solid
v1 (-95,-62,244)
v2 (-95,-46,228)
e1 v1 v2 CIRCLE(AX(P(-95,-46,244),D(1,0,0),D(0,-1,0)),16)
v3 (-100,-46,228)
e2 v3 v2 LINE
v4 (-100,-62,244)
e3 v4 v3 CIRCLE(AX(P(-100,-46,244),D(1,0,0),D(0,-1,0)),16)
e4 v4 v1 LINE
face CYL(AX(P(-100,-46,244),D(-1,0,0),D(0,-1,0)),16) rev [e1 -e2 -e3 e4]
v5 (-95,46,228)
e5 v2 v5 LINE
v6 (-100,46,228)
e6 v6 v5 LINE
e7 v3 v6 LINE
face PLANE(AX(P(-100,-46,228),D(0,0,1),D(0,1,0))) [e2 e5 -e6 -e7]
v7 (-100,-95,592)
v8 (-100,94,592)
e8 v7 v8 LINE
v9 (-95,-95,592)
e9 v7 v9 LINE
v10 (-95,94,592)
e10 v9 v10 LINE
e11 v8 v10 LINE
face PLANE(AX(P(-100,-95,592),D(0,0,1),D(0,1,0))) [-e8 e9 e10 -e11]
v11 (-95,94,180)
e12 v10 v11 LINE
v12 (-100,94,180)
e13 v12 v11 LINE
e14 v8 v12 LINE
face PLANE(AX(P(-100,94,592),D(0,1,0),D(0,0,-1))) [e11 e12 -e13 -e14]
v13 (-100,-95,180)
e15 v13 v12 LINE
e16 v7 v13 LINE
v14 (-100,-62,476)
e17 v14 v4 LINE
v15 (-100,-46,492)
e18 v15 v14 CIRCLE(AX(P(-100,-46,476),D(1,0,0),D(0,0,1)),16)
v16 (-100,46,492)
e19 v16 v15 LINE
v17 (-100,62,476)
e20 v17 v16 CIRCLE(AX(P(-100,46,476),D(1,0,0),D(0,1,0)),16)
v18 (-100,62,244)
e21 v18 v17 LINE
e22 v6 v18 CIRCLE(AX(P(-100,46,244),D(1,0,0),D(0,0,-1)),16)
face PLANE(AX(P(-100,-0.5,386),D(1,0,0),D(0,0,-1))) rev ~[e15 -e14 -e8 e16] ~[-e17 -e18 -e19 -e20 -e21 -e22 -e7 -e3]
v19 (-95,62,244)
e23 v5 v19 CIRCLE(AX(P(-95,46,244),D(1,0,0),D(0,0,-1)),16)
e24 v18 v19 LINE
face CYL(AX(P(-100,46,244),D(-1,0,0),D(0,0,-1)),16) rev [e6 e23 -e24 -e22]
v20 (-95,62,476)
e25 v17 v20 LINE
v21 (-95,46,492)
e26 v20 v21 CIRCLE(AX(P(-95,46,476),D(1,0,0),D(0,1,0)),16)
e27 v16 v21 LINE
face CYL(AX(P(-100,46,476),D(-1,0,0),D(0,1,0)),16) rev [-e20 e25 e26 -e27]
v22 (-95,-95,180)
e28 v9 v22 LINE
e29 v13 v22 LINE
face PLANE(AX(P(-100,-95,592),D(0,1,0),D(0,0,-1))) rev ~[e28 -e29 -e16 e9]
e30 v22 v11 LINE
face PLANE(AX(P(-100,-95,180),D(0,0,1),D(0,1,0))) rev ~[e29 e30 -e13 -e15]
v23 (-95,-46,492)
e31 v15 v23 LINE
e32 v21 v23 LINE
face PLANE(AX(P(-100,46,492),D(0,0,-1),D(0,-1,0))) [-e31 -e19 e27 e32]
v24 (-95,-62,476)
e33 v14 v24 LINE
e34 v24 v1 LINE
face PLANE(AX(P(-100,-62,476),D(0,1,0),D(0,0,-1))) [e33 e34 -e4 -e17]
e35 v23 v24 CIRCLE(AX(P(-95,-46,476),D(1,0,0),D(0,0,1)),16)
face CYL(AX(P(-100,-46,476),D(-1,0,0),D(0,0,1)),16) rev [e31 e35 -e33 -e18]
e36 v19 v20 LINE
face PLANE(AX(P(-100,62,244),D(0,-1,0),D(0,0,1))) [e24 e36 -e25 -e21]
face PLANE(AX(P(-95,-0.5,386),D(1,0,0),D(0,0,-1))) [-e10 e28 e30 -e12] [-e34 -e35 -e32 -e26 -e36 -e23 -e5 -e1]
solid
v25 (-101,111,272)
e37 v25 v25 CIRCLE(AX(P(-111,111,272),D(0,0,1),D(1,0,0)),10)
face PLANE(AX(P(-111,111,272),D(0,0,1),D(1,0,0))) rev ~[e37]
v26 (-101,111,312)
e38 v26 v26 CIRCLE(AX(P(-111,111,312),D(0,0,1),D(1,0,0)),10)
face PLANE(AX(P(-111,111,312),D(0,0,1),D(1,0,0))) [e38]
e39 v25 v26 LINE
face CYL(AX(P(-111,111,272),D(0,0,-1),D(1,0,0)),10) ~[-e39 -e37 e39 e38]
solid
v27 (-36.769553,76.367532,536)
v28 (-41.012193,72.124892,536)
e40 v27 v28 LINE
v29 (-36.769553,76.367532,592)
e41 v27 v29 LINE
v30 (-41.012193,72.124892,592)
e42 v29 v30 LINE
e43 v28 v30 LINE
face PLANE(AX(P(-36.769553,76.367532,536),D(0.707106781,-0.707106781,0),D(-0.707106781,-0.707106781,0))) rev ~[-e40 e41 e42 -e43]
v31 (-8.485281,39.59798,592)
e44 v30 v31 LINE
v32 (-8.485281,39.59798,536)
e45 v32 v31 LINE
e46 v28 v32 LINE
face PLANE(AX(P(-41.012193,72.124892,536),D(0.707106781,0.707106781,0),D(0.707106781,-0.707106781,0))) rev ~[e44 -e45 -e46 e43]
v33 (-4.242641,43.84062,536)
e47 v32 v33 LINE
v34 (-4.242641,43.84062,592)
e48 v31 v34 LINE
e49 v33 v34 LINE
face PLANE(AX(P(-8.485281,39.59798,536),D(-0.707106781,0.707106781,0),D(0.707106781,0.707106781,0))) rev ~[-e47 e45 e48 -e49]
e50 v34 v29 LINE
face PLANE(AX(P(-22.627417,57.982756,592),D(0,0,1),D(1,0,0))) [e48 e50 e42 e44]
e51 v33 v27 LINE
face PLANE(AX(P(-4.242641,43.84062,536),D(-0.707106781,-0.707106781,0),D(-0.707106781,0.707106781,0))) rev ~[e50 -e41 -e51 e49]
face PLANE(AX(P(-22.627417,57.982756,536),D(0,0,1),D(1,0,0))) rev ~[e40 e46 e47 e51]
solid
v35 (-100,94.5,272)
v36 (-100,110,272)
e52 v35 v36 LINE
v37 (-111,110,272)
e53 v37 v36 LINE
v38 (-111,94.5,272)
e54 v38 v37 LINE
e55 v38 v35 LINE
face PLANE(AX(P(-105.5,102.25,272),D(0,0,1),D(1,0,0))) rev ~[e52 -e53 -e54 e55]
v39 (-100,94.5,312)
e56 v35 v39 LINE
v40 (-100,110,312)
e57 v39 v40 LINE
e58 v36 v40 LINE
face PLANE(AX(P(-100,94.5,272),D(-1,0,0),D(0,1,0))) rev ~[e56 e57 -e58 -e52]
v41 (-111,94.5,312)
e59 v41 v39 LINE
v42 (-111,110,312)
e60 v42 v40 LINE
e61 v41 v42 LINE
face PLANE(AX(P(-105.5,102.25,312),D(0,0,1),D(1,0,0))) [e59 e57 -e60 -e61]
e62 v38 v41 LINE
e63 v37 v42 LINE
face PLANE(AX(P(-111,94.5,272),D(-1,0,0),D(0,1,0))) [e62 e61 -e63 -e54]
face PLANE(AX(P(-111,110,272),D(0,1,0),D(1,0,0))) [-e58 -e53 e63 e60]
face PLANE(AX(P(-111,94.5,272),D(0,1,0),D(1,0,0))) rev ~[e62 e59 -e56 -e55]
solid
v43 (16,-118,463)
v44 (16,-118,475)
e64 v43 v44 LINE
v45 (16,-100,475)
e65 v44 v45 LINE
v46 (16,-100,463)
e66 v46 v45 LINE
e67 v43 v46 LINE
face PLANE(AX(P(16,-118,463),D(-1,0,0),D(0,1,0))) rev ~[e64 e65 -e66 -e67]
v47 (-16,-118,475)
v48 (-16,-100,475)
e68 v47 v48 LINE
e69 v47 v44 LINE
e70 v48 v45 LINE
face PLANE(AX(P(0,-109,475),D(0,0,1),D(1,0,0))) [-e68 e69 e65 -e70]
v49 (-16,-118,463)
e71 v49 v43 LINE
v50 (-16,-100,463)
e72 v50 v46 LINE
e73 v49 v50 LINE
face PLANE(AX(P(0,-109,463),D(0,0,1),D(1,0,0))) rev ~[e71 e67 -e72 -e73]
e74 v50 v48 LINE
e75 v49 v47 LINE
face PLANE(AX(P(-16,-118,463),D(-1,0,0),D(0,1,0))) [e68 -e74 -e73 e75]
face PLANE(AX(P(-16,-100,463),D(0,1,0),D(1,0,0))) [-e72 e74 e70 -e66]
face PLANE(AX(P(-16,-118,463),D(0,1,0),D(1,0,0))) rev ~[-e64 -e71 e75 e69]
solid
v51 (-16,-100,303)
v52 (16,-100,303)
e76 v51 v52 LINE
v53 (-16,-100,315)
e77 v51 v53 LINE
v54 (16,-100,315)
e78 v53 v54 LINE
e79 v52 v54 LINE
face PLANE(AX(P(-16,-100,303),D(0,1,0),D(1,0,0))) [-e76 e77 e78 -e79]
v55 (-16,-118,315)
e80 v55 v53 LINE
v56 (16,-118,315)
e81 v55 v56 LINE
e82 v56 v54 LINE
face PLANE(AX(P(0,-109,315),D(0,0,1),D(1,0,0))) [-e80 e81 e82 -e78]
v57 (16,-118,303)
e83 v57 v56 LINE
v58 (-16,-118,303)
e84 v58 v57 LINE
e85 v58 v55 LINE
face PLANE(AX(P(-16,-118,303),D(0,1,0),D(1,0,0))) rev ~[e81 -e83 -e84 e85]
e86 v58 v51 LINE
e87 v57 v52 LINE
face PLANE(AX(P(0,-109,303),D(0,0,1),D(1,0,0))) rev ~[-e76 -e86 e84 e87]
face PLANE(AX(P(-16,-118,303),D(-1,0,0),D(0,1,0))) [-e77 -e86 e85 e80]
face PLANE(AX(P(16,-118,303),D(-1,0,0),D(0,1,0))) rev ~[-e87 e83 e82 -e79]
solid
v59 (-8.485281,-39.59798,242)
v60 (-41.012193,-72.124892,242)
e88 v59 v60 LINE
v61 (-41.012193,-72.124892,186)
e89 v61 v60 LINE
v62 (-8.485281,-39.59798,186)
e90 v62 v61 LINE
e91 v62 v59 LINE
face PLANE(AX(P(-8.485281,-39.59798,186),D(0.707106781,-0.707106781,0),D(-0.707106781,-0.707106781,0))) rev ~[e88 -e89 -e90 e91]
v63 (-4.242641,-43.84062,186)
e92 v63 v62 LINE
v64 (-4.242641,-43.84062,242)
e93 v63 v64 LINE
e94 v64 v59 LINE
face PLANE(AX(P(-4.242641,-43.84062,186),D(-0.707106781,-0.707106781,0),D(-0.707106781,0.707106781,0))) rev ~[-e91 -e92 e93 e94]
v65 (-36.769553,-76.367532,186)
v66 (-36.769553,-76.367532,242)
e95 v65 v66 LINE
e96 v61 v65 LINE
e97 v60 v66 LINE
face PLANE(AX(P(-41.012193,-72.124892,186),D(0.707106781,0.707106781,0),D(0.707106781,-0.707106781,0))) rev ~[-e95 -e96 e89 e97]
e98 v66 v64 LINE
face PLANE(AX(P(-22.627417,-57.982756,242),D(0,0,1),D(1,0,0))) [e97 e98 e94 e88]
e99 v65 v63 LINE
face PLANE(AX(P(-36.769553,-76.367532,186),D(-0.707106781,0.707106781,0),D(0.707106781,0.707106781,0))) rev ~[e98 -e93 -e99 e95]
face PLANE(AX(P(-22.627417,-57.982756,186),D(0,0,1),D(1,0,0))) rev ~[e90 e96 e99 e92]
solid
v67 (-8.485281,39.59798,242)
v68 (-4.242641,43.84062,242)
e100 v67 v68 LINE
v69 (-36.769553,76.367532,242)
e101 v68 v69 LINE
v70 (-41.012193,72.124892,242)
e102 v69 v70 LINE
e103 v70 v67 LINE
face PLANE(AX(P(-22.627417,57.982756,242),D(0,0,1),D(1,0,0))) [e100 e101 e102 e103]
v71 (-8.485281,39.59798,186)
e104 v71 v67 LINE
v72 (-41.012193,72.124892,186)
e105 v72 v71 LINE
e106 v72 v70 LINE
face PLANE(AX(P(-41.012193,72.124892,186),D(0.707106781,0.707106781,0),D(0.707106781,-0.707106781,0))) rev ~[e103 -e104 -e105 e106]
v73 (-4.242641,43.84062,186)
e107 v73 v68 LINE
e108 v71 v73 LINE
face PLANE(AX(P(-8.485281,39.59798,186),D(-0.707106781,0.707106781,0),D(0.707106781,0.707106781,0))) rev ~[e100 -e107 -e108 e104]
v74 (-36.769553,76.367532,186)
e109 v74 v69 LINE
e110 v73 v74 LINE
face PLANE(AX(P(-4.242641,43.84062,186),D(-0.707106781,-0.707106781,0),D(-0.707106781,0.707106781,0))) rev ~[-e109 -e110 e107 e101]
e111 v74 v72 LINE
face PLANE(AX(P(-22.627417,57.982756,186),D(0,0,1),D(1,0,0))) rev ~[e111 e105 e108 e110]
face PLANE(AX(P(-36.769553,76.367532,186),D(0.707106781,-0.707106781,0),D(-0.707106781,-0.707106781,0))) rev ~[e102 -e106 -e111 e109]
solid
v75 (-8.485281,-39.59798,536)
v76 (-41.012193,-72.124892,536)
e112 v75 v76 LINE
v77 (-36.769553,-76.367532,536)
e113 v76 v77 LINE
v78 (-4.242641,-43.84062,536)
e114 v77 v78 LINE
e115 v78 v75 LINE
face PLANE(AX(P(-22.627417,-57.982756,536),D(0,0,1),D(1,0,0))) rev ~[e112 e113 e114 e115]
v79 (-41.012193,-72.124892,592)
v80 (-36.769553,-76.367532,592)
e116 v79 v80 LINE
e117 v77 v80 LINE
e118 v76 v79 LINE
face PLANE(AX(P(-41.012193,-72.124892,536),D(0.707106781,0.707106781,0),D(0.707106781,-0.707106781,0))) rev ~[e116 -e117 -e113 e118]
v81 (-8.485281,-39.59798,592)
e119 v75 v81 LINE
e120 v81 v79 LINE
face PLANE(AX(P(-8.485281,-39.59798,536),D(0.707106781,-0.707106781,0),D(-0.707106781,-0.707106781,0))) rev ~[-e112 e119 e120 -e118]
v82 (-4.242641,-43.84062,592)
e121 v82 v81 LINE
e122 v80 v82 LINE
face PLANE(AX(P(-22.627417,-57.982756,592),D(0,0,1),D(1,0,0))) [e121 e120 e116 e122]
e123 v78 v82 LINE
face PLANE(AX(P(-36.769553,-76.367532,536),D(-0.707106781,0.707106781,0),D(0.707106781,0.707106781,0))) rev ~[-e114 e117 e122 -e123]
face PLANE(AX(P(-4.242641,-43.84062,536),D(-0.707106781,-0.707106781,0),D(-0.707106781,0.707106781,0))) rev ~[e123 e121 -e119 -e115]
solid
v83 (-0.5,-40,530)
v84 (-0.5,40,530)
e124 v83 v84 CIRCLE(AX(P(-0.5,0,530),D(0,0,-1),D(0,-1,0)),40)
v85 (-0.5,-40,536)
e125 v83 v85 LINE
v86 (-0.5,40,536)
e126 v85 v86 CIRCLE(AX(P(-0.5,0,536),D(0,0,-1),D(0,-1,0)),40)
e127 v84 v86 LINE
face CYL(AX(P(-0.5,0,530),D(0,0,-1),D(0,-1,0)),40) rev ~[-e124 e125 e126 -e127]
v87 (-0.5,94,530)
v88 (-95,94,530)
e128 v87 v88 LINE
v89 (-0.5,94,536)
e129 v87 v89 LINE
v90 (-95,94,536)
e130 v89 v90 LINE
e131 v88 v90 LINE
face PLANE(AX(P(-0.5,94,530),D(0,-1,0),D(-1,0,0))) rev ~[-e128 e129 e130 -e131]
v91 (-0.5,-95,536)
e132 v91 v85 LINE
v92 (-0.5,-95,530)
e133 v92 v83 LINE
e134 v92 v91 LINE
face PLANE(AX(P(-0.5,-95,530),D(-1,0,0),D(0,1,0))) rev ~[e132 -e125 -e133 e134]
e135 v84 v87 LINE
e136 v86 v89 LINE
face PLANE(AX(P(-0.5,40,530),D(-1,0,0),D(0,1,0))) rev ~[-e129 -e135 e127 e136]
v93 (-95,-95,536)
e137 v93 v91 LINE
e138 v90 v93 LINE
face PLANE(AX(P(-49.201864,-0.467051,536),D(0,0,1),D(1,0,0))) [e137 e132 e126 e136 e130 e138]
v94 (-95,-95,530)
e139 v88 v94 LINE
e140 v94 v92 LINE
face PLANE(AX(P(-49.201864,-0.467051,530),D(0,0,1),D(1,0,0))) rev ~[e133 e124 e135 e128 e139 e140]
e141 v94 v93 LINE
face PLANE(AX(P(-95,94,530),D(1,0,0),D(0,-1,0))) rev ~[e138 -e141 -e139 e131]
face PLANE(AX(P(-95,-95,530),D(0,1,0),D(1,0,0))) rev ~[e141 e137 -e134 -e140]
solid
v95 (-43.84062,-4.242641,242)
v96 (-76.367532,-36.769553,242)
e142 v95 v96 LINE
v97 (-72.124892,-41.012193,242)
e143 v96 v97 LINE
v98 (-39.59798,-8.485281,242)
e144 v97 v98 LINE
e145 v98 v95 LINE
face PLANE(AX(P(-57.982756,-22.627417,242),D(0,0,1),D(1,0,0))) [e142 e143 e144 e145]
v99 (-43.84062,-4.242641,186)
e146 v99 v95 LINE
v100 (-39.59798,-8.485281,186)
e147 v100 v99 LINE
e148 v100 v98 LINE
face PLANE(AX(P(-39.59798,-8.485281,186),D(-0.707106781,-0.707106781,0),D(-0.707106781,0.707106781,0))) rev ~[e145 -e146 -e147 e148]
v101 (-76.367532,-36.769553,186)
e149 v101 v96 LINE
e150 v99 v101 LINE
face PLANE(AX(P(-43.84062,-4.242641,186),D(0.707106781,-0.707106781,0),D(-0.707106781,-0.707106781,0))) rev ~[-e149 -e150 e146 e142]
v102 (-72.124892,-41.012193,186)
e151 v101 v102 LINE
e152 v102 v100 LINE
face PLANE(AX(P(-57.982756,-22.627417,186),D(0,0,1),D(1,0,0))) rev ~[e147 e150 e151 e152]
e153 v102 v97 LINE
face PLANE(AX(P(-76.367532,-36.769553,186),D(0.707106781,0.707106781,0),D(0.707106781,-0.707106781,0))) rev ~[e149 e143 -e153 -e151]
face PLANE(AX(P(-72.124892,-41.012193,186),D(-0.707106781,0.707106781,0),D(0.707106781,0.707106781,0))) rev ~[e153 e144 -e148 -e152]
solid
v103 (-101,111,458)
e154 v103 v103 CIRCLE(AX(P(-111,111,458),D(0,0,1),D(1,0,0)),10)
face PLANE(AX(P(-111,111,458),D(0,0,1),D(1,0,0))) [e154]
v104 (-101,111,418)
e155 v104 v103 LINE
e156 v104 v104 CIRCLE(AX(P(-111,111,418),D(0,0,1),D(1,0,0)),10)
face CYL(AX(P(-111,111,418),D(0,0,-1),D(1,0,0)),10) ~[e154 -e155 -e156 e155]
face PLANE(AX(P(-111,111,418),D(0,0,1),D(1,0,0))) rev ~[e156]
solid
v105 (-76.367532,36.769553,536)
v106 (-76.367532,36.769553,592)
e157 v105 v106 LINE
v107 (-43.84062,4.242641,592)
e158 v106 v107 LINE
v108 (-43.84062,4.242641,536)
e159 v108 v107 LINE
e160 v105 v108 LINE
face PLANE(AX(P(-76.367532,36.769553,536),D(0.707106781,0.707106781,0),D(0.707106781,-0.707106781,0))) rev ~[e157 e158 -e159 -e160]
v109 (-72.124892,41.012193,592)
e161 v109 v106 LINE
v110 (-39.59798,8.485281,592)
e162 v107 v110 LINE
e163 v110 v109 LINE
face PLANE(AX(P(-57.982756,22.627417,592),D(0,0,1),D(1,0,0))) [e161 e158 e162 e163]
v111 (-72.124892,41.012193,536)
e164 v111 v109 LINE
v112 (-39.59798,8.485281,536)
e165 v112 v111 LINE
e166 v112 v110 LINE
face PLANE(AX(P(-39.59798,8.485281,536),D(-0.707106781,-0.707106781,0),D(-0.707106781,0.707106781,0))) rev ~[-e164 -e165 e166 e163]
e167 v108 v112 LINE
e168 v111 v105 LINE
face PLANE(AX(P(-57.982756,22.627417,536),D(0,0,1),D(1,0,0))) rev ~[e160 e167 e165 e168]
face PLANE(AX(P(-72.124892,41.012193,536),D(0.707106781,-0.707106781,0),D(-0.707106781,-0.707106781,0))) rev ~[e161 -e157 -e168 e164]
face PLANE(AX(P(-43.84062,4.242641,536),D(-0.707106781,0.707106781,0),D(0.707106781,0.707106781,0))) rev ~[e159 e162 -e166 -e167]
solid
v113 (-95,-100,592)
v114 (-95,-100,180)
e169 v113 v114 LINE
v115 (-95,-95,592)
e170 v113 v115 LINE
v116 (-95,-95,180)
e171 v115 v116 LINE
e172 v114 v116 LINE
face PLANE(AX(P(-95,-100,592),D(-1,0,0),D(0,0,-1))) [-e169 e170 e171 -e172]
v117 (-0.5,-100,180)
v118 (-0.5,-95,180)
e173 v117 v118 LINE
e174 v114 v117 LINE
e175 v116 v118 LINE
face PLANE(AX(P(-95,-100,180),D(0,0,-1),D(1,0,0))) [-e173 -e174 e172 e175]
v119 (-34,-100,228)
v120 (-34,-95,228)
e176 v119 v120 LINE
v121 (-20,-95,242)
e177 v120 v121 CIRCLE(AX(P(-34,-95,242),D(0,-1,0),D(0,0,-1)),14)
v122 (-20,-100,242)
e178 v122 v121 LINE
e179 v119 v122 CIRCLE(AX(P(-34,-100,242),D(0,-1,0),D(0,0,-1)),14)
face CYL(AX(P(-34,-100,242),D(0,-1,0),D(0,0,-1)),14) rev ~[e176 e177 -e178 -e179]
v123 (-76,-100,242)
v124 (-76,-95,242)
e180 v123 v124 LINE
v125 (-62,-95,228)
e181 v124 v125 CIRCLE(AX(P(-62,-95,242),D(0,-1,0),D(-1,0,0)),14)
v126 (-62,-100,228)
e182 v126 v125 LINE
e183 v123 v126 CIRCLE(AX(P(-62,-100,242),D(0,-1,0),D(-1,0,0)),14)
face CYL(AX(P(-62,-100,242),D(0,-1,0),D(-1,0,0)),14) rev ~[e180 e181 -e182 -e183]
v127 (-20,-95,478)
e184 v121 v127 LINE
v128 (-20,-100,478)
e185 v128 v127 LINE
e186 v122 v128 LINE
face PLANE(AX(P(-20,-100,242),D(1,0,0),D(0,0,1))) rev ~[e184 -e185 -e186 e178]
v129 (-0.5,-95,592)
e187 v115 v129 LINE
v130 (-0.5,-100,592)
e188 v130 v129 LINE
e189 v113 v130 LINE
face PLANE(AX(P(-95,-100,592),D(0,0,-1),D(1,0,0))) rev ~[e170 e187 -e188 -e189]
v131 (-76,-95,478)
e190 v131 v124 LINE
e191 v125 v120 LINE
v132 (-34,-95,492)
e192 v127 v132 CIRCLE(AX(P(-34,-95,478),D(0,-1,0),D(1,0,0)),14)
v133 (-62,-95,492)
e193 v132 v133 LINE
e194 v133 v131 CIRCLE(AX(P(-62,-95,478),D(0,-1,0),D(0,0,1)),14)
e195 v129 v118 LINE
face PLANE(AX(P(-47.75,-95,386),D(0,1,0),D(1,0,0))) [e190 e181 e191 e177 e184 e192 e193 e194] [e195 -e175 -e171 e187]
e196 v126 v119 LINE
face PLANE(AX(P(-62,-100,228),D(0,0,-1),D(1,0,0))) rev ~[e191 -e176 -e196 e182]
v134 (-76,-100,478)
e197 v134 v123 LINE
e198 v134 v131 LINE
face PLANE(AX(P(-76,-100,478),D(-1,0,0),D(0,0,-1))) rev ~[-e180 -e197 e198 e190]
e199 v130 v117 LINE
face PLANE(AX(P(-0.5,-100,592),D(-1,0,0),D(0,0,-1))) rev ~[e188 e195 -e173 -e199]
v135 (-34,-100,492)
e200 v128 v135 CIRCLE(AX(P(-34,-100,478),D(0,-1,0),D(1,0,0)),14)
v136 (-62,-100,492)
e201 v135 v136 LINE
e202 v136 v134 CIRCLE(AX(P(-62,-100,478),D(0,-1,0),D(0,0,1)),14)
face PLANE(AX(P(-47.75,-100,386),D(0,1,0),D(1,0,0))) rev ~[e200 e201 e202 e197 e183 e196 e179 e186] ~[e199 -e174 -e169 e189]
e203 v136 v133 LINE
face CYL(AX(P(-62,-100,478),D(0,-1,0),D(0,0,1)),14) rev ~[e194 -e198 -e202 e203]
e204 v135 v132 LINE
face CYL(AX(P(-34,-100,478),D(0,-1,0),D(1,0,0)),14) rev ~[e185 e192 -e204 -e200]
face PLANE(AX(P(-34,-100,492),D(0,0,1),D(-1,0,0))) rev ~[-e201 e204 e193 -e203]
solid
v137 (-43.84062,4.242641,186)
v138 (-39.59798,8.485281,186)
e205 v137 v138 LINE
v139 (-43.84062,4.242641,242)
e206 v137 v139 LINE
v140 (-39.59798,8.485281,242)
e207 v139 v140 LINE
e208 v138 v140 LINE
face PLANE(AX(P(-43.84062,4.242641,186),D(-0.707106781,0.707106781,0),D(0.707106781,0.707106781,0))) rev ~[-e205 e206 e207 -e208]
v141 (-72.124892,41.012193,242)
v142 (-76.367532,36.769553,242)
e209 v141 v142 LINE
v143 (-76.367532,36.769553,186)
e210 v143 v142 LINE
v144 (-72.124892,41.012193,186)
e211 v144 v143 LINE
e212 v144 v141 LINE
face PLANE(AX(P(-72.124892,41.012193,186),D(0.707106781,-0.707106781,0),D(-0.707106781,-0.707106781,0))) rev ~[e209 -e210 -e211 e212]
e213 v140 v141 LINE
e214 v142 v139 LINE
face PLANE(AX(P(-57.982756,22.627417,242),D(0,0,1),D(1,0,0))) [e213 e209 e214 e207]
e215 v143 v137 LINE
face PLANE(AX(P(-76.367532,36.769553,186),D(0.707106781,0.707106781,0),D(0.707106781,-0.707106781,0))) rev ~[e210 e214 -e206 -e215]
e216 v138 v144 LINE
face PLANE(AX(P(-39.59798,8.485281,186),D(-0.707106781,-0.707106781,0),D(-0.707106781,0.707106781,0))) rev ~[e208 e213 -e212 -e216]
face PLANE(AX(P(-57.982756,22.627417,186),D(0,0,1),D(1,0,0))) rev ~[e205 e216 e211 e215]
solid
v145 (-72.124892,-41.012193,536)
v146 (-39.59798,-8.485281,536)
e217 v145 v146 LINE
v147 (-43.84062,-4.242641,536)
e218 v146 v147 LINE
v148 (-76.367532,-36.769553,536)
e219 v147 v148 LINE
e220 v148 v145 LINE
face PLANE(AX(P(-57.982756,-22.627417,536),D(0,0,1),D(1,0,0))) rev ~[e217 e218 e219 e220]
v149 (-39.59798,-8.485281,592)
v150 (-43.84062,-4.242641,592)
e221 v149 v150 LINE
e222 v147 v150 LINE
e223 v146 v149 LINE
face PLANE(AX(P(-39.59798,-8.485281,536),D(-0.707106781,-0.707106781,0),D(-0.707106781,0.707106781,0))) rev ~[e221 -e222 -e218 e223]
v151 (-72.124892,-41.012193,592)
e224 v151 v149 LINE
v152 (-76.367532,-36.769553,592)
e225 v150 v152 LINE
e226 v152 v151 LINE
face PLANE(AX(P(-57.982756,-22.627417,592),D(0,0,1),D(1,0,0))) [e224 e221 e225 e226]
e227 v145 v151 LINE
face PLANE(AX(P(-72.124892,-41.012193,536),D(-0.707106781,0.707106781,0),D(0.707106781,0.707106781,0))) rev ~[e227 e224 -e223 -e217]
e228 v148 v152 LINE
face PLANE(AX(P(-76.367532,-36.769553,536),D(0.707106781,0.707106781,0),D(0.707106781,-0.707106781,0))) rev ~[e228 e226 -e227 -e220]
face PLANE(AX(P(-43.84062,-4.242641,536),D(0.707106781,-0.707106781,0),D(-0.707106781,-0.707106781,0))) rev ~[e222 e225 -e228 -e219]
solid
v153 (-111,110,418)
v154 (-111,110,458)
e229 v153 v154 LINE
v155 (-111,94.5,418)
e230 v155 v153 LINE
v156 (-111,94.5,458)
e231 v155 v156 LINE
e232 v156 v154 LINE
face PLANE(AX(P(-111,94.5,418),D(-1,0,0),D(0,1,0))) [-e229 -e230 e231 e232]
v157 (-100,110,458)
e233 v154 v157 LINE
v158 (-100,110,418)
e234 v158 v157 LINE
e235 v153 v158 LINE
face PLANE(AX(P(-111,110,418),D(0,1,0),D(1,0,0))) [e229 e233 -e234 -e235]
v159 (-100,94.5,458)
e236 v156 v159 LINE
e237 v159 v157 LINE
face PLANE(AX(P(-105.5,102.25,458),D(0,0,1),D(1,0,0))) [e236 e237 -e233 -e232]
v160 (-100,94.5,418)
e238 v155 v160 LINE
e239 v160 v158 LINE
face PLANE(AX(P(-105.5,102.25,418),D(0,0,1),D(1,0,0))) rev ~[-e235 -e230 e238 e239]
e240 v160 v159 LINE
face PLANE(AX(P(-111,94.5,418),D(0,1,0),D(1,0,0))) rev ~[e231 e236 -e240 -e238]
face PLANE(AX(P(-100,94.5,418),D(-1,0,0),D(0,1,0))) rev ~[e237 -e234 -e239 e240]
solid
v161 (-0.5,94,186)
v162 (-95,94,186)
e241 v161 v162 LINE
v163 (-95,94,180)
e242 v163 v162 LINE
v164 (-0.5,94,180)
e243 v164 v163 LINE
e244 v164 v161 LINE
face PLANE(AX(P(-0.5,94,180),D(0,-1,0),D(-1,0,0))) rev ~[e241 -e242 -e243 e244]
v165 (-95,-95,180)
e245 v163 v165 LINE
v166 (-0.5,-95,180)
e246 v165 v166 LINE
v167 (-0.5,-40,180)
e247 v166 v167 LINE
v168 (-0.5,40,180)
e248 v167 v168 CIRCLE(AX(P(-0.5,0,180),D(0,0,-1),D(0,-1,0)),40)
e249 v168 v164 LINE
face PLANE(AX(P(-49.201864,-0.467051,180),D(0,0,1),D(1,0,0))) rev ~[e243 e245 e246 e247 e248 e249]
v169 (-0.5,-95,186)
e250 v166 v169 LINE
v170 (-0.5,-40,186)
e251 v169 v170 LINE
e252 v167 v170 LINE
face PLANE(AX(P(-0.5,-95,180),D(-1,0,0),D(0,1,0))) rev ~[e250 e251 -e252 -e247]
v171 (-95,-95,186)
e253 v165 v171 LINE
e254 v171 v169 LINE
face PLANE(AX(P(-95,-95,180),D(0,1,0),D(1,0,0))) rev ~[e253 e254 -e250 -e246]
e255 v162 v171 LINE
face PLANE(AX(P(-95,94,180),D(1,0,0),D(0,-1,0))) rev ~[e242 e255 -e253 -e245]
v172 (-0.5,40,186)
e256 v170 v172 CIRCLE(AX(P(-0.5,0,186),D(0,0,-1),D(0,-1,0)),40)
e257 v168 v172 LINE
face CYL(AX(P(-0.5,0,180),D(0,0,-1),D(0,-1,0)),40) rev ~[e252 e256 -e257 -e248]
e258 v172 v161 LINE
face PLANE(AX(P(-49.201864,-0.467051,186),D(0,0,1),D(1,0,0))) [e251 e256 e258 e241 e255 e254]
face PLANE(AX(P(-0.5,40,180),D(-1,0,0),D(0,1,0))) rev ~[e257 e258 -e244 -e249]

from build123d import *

# Parameters (mm, degrees)
EXTRUDE_START       = 180
EXTRUDE_1_DEPTH     = 6
EXTRUDE_START_2     = 186
EXTRUDE_2_DEPTH     = 56
EXTRUDE_3_DEPTH     = 56
EXTRUDE_4_DEPTH     = 56
EXTRUDE_5_DEPTH     = 56
EXTRUDE_START_3     = 530
EXTRUDE_6_DEPTH     = 6
EXTRUDE_START_4     = 536
EXTRUDE_7_DEPTH     = 56
EXTRUDE_8_DEPTH     = 56
EXTRUDE_9_DEPTH     = 56
EXTRUDE_10_DEPTH    = 56
EXTRUDE_START_5     = -100
EXTRUDE_SKETCH_11_W = 412
EXTRUDE_SKETCH_11_H = 189
EXTRUDE_11_DEPTH    = 5
EXTRUDE_SKETCH_12_W = 94.5
EXTRUDE_SKETCH_12_H = 412
EXTRUDE_12_DEPTH    = 5
EXTRUDE_START_6     = 272
EXTRUDE_SKETCH_13_R = 10
EXTRUDE_13_DEPTH    = 40
EXTRUDE_SKETCH_14_W = 11
EXTRUDE_SKETCH_14_H = 15.5
EXTRUDE_14_DEPTH    = 40
EXTRUDE_START_7     = 418
EXTRUDE_SKETCH_15_R = 10
EXTRUDE_15_DEPTH    = 40
EXTRUDE_SKETCH_16_W = 11
EXTRUDE_SKETCH_16_H = 15.5
EXTRUDE_16_DEPTH    = 40
EXTRUDE_START_8     = 303
EXTRUDE_SKETCH_17_W = 32
EXTRUDE_SKETCH_17_H = 18
EXTRUDE_17_DEPTH    = 12
EXTRUDE_START_9     = 463
EXTRUDE_SKETCH_18_W = 32
EXTRUDE_SKETCH_18_H = 18
EXTRUDE_18_DEPTH    = 12


with BuildPart() as part:
    # Extrude sketch 1 → Extrude 1 (new body)
    with BuildSketch(Plane.XY.offset(EXTRUDE_START)):
        with BuildLine():
            Line((-95, 94), (-95, -95))
            Line((-95, -95), (-0.5, -95))
            Line((-0.5, -95), (-0.5, -40))
            ThreePointArc((-0.5, -40), (-40.5, 0), (-0.5, 40))
            Line((-0.5, 40), (-0.5, 94))
            Line((-0.5, 94), (-95, 94))
        make_face()
    extrude(amount=EXTRUDE_1_DEPTH)


with BuildPart() as body_2:
    # Extrude sketch 2 → Extrude 2 (new body)
    with BuildSketch(Plane.XY.offset(EXTRUDE_START_2)):
        Polygon((-39.597979746, 8.485281374), (-72.124891681, 41.012193309), (-76.367532368, 36.769552622), (-43.840620434, 4.242640687), align=None)
    extrude(amount=EXTRUDE_2_DEPTH)


with BuildPart() as body_3:
    # Extrude sketch 3 → Extrude 3 (new body)
    with BuildSketch(Plane.XY.offset(EXTRUDE_START_2)):
        Polygon((-41.012193309, 72.124891681), (-8.485281374, 39.597979746), (-4.242640687, 43.840620434), (-36.769552622, 76.367532368), align=None)
    extrude(amount=EXTRUDE_3_DEPTH)


with BuildPart() as body_4:
    # Extrude sketch 4 → Extrude 4 (new body)
    with BuildSketch(Plane.XY.offset(EXTRUDE_START_2)):
        Polygon((-8.485281374, -39.597979746), (-41.012193309, -72.124891681), (-36.769552622, -76.367532368), (-4.242640687, -43.840620434), align=None)
    extrude(amount=EXTRUDE_4_DEPTH)


with BuildPart() as body_5:
    # Extrude sketch 5 → Extrude 5 (new body)
    with BuildSketch(Plane.XY.offset(EXTRUDE_START_2)):
        Polygon((-43.840620434, -4.242640687), (-76.367532368, -36.769552622), (-72.124891681, -41.012193309), (-39.597979746, -8.485281374), align=None)
    extrude(amount=EXTRUDE_5_DEPTH)


with BuildPart() as body_6:
    # Extrude sketch 6 → Extrude 6 (new body)
    with BuildSketch(Plane.XY.offset(EXTRUDE_START_3)):
        with BuildLine():
            Line((-95, 94), (-95, -95))
            Line((-95, -95), (-0.5, -95))
            Line((-0.5, -95), (-0.5, -40))
            ThreePointArc((-0.5, -40), (-40.5, 0), (-0.5, 40))
            Line((-0.5, 40), (-0.5, 94))
            Line((-0.5, 94), (-95, 94))
        make_face()
    extrude(amount=EXTRUDE_6_DEPTH)


with BuildPart() as body_7:
    # Extrude sketch 7 → Extrude 7 (new body)
    with BuildSketch(Plane.XY.offset(EXTRUDE_START_4)):
        Polygon((-39.597979746, 8.485281374), (-72.124891681, 41.012193309), (-76.367532368, 36.769552622), (-43.840620434, 4.242640687), align=None)
    extrude(amount=EXTRUDE_7_DEPTH)


with BuildPart() as body_8:
    # Extrude sketch 8 → Extrude 8 (new body)
    with BuildSketch(Plane.XY.offset(EXTRUDE_START_4)):
        Polygon((-41.012193309, 72.124891681), (-8.485281374, 39.597979746), (-4.242640687, 43.840620434), (-36.769552622, 76.367532368), align=None)
    extrude(amount=EXTRUDE_8_DEPTH)


with BuildPart() as body_9:
    # Extrude sketch 9 → Extrude 9 (new body)
    with BuildSketch(Plane.XY.offset(EXTRUDE_START_4)):
        Polygon((-8.485281374, -39.597979746), (-41.012193309, -72.124891681), (-36.769552622, -76.367532368), (-4.242640687, -43.840620434), align=None)
    extrude(amount=EXTRUDE_9_DEPTH)


with BuildPart() as body_10:
    # Extrude sketch 10 → Extrude 10 (new body)
    with BuildSketch(Plane.XY.offset(EXTRUDE_START_4)):
        Polygon((-43.840620434, -4.242640687), (-76.367532368, -36.769552622), (-72.124891681, -41.012193309), (-39.597979746, -8.485281374), align=None)
    extrude(amount=EXTRUDE_10_DEPTH)


with BuildPart() as body_11:
    # Extrude sketch 11 → Extrude 11 (new body)
    with BuildSketch(Plane(origin=(0, 0, 0), x_dir=(0, 0, -1), z_dir=(1, 0, 0)).offset(EXTRUDE_START_5)):
        with Locations((-386, -0.5)):
            Rectangle(EXTRUDE_SKETCH_11_W, EXTRUDE_SKETCH_11_H)
        with BuildLine():
            Line((-244, 62), (-476, 62))
            ThreePointArc((-476, 62), (-487.313708499, 57.313708499), (-492, 46))
            Line((-492, 46), (-492, -46))
            ThreePointArc((-492, -46), (-487.313708499, -57.313708499), (-476, -62))
            Line((-476, -62), (-244, -62))
            ThreePointArc((-244, -62), (-232.686291501, -57.313708499), (-228, -46))
            Line((-228, -46), (-228, 46))
            ThreePointArc((-228, 46), (-232.686291501, 57.313708499), (-244, 62))
        make_face(mode=Mode.SUBTRACT)
    extrude(amount=EXTRUDE_11_DEPTH)


with BuildPart() as body_12:
    # Extrude sketch 12 → Extrude 12 (new body)
    with BuildSketch(Plane(origin=(0, 0, 0), x_dir=(1, 0, 0), z_dir=(0, 1, 0)).offset(EXTRUDE_START_5)):
        with Locations((-47.75, -386)):
            Rectangle(EXTRUDE_SKETCH_12_W, EXTRUDE_SKETCH_12_H)
        with BuildLine():
            Line((-20, -242), (-20, -478))
            ThreePointArc((-20, -478), (-24.100505063, -487.899494937), (-34, -492))
            Line((-34, -492), (-62, -492))
            ThreePointArc((-62, -492), (-71.899494937, -487.899494937), (-76, -478))
            Line((-76, -478), (-76, -242))
            ThreePointArc((-76, -242), (-71.899494937, -232.100505063), (-62, -228))
            Line((-62, -228), (-34, -228))
            ThreePointArc((-34, -228), (-24.100505063, -232.100505063), (-20, -242))
        make_face(mode=Mode.SUBTRACT)
    extrude(amount=EXTRUDE_12_DEPTH)


with BuildPart() as body_13:
    # Extrude sketch 13 → Extrude 13 (new body)
    with BuildSketch(Plane.XY.offset(EXTRUDE_START_6)):
        with Locations((-111, 111)):
            Circle(EXTRUDE_SKETCH_13_R)
    extrude(amount=EXTRUDE_13_DEPTH)


with BuildPart() as body_14:
    # Extrude sketch 14 → Extrude 14 (new body)
    with BuildSketch(Plane.XY.offset(EXTRUDE_START_6)):
        with Locations((-105.5, 102.25)):
            Rectangle(EXTRUDE_SKETCH_14_W, EXTRUDE_SKETCH_14_H)
    extrude(amount=EXTRUDE_14_DEPTH)


with BuildPart() as body_15:
    # Extrude sketch 15 → Extrude 15 (new body)
    with BuildSketch(Plane.XY.offset(EXTRUDE_START_7)):
        with Locations((-111, 111)):
            Circle(EXTRUDE_SKETCH_15_R)
    extrude(amount=EXTRUDE_15_DEPTH)


with BuildPart() as body_16:
    # Extrude sketch 16 → Extrude 16 (new body)
    with BuildSketch(Plane.XY.offset(EXTRUDE_START_7)):
        with Locations((-105.5, 102.25)):
            Rectangle(EXTRUDE_SKETCH_16_W, EXTRUDE_SKETCH_16_H)
    extrude(amount=EXTRUDE_16_DEPTH)


with BuildPart() as body_17:
    # Extrude sketch 17 → Extrude 17 (new body)
    with BuildSketch(Plane.XY.offset(EXTRUDE_START_8)):
        with Locations((0, -109)):
            Rectangle(EXTRUDE_SKETCH_17_W, EXTRUDE_SKETCH_17_H)
    extrude(amount=EXTRUDE_17_DEPTH)


with BuildPart() as body_18:
    # Extrude sketch 18 → Extrude 18 (new body)
    with BuildSketch(Plane.XY.offset(EXTRUDE_START_9)):
        with Locations((0, -109)):
            Rectangle(EXTRUDE_SKETCH_18_W, EXTRUDE_SKETCH_18_H)
    extrude(amount=EXTRUDE_18_DEPTH)


solid = Compound([part.part, body_2.part, body_3.part, body_4.part, body_5.part, body_6.part, body_7.part, body_8.part, body_9.part, body_10.part, body_11.part, body_12.part, body_13.part, body_14.part, body_15.part, body_16.part, body_17.part, body_18.part])
